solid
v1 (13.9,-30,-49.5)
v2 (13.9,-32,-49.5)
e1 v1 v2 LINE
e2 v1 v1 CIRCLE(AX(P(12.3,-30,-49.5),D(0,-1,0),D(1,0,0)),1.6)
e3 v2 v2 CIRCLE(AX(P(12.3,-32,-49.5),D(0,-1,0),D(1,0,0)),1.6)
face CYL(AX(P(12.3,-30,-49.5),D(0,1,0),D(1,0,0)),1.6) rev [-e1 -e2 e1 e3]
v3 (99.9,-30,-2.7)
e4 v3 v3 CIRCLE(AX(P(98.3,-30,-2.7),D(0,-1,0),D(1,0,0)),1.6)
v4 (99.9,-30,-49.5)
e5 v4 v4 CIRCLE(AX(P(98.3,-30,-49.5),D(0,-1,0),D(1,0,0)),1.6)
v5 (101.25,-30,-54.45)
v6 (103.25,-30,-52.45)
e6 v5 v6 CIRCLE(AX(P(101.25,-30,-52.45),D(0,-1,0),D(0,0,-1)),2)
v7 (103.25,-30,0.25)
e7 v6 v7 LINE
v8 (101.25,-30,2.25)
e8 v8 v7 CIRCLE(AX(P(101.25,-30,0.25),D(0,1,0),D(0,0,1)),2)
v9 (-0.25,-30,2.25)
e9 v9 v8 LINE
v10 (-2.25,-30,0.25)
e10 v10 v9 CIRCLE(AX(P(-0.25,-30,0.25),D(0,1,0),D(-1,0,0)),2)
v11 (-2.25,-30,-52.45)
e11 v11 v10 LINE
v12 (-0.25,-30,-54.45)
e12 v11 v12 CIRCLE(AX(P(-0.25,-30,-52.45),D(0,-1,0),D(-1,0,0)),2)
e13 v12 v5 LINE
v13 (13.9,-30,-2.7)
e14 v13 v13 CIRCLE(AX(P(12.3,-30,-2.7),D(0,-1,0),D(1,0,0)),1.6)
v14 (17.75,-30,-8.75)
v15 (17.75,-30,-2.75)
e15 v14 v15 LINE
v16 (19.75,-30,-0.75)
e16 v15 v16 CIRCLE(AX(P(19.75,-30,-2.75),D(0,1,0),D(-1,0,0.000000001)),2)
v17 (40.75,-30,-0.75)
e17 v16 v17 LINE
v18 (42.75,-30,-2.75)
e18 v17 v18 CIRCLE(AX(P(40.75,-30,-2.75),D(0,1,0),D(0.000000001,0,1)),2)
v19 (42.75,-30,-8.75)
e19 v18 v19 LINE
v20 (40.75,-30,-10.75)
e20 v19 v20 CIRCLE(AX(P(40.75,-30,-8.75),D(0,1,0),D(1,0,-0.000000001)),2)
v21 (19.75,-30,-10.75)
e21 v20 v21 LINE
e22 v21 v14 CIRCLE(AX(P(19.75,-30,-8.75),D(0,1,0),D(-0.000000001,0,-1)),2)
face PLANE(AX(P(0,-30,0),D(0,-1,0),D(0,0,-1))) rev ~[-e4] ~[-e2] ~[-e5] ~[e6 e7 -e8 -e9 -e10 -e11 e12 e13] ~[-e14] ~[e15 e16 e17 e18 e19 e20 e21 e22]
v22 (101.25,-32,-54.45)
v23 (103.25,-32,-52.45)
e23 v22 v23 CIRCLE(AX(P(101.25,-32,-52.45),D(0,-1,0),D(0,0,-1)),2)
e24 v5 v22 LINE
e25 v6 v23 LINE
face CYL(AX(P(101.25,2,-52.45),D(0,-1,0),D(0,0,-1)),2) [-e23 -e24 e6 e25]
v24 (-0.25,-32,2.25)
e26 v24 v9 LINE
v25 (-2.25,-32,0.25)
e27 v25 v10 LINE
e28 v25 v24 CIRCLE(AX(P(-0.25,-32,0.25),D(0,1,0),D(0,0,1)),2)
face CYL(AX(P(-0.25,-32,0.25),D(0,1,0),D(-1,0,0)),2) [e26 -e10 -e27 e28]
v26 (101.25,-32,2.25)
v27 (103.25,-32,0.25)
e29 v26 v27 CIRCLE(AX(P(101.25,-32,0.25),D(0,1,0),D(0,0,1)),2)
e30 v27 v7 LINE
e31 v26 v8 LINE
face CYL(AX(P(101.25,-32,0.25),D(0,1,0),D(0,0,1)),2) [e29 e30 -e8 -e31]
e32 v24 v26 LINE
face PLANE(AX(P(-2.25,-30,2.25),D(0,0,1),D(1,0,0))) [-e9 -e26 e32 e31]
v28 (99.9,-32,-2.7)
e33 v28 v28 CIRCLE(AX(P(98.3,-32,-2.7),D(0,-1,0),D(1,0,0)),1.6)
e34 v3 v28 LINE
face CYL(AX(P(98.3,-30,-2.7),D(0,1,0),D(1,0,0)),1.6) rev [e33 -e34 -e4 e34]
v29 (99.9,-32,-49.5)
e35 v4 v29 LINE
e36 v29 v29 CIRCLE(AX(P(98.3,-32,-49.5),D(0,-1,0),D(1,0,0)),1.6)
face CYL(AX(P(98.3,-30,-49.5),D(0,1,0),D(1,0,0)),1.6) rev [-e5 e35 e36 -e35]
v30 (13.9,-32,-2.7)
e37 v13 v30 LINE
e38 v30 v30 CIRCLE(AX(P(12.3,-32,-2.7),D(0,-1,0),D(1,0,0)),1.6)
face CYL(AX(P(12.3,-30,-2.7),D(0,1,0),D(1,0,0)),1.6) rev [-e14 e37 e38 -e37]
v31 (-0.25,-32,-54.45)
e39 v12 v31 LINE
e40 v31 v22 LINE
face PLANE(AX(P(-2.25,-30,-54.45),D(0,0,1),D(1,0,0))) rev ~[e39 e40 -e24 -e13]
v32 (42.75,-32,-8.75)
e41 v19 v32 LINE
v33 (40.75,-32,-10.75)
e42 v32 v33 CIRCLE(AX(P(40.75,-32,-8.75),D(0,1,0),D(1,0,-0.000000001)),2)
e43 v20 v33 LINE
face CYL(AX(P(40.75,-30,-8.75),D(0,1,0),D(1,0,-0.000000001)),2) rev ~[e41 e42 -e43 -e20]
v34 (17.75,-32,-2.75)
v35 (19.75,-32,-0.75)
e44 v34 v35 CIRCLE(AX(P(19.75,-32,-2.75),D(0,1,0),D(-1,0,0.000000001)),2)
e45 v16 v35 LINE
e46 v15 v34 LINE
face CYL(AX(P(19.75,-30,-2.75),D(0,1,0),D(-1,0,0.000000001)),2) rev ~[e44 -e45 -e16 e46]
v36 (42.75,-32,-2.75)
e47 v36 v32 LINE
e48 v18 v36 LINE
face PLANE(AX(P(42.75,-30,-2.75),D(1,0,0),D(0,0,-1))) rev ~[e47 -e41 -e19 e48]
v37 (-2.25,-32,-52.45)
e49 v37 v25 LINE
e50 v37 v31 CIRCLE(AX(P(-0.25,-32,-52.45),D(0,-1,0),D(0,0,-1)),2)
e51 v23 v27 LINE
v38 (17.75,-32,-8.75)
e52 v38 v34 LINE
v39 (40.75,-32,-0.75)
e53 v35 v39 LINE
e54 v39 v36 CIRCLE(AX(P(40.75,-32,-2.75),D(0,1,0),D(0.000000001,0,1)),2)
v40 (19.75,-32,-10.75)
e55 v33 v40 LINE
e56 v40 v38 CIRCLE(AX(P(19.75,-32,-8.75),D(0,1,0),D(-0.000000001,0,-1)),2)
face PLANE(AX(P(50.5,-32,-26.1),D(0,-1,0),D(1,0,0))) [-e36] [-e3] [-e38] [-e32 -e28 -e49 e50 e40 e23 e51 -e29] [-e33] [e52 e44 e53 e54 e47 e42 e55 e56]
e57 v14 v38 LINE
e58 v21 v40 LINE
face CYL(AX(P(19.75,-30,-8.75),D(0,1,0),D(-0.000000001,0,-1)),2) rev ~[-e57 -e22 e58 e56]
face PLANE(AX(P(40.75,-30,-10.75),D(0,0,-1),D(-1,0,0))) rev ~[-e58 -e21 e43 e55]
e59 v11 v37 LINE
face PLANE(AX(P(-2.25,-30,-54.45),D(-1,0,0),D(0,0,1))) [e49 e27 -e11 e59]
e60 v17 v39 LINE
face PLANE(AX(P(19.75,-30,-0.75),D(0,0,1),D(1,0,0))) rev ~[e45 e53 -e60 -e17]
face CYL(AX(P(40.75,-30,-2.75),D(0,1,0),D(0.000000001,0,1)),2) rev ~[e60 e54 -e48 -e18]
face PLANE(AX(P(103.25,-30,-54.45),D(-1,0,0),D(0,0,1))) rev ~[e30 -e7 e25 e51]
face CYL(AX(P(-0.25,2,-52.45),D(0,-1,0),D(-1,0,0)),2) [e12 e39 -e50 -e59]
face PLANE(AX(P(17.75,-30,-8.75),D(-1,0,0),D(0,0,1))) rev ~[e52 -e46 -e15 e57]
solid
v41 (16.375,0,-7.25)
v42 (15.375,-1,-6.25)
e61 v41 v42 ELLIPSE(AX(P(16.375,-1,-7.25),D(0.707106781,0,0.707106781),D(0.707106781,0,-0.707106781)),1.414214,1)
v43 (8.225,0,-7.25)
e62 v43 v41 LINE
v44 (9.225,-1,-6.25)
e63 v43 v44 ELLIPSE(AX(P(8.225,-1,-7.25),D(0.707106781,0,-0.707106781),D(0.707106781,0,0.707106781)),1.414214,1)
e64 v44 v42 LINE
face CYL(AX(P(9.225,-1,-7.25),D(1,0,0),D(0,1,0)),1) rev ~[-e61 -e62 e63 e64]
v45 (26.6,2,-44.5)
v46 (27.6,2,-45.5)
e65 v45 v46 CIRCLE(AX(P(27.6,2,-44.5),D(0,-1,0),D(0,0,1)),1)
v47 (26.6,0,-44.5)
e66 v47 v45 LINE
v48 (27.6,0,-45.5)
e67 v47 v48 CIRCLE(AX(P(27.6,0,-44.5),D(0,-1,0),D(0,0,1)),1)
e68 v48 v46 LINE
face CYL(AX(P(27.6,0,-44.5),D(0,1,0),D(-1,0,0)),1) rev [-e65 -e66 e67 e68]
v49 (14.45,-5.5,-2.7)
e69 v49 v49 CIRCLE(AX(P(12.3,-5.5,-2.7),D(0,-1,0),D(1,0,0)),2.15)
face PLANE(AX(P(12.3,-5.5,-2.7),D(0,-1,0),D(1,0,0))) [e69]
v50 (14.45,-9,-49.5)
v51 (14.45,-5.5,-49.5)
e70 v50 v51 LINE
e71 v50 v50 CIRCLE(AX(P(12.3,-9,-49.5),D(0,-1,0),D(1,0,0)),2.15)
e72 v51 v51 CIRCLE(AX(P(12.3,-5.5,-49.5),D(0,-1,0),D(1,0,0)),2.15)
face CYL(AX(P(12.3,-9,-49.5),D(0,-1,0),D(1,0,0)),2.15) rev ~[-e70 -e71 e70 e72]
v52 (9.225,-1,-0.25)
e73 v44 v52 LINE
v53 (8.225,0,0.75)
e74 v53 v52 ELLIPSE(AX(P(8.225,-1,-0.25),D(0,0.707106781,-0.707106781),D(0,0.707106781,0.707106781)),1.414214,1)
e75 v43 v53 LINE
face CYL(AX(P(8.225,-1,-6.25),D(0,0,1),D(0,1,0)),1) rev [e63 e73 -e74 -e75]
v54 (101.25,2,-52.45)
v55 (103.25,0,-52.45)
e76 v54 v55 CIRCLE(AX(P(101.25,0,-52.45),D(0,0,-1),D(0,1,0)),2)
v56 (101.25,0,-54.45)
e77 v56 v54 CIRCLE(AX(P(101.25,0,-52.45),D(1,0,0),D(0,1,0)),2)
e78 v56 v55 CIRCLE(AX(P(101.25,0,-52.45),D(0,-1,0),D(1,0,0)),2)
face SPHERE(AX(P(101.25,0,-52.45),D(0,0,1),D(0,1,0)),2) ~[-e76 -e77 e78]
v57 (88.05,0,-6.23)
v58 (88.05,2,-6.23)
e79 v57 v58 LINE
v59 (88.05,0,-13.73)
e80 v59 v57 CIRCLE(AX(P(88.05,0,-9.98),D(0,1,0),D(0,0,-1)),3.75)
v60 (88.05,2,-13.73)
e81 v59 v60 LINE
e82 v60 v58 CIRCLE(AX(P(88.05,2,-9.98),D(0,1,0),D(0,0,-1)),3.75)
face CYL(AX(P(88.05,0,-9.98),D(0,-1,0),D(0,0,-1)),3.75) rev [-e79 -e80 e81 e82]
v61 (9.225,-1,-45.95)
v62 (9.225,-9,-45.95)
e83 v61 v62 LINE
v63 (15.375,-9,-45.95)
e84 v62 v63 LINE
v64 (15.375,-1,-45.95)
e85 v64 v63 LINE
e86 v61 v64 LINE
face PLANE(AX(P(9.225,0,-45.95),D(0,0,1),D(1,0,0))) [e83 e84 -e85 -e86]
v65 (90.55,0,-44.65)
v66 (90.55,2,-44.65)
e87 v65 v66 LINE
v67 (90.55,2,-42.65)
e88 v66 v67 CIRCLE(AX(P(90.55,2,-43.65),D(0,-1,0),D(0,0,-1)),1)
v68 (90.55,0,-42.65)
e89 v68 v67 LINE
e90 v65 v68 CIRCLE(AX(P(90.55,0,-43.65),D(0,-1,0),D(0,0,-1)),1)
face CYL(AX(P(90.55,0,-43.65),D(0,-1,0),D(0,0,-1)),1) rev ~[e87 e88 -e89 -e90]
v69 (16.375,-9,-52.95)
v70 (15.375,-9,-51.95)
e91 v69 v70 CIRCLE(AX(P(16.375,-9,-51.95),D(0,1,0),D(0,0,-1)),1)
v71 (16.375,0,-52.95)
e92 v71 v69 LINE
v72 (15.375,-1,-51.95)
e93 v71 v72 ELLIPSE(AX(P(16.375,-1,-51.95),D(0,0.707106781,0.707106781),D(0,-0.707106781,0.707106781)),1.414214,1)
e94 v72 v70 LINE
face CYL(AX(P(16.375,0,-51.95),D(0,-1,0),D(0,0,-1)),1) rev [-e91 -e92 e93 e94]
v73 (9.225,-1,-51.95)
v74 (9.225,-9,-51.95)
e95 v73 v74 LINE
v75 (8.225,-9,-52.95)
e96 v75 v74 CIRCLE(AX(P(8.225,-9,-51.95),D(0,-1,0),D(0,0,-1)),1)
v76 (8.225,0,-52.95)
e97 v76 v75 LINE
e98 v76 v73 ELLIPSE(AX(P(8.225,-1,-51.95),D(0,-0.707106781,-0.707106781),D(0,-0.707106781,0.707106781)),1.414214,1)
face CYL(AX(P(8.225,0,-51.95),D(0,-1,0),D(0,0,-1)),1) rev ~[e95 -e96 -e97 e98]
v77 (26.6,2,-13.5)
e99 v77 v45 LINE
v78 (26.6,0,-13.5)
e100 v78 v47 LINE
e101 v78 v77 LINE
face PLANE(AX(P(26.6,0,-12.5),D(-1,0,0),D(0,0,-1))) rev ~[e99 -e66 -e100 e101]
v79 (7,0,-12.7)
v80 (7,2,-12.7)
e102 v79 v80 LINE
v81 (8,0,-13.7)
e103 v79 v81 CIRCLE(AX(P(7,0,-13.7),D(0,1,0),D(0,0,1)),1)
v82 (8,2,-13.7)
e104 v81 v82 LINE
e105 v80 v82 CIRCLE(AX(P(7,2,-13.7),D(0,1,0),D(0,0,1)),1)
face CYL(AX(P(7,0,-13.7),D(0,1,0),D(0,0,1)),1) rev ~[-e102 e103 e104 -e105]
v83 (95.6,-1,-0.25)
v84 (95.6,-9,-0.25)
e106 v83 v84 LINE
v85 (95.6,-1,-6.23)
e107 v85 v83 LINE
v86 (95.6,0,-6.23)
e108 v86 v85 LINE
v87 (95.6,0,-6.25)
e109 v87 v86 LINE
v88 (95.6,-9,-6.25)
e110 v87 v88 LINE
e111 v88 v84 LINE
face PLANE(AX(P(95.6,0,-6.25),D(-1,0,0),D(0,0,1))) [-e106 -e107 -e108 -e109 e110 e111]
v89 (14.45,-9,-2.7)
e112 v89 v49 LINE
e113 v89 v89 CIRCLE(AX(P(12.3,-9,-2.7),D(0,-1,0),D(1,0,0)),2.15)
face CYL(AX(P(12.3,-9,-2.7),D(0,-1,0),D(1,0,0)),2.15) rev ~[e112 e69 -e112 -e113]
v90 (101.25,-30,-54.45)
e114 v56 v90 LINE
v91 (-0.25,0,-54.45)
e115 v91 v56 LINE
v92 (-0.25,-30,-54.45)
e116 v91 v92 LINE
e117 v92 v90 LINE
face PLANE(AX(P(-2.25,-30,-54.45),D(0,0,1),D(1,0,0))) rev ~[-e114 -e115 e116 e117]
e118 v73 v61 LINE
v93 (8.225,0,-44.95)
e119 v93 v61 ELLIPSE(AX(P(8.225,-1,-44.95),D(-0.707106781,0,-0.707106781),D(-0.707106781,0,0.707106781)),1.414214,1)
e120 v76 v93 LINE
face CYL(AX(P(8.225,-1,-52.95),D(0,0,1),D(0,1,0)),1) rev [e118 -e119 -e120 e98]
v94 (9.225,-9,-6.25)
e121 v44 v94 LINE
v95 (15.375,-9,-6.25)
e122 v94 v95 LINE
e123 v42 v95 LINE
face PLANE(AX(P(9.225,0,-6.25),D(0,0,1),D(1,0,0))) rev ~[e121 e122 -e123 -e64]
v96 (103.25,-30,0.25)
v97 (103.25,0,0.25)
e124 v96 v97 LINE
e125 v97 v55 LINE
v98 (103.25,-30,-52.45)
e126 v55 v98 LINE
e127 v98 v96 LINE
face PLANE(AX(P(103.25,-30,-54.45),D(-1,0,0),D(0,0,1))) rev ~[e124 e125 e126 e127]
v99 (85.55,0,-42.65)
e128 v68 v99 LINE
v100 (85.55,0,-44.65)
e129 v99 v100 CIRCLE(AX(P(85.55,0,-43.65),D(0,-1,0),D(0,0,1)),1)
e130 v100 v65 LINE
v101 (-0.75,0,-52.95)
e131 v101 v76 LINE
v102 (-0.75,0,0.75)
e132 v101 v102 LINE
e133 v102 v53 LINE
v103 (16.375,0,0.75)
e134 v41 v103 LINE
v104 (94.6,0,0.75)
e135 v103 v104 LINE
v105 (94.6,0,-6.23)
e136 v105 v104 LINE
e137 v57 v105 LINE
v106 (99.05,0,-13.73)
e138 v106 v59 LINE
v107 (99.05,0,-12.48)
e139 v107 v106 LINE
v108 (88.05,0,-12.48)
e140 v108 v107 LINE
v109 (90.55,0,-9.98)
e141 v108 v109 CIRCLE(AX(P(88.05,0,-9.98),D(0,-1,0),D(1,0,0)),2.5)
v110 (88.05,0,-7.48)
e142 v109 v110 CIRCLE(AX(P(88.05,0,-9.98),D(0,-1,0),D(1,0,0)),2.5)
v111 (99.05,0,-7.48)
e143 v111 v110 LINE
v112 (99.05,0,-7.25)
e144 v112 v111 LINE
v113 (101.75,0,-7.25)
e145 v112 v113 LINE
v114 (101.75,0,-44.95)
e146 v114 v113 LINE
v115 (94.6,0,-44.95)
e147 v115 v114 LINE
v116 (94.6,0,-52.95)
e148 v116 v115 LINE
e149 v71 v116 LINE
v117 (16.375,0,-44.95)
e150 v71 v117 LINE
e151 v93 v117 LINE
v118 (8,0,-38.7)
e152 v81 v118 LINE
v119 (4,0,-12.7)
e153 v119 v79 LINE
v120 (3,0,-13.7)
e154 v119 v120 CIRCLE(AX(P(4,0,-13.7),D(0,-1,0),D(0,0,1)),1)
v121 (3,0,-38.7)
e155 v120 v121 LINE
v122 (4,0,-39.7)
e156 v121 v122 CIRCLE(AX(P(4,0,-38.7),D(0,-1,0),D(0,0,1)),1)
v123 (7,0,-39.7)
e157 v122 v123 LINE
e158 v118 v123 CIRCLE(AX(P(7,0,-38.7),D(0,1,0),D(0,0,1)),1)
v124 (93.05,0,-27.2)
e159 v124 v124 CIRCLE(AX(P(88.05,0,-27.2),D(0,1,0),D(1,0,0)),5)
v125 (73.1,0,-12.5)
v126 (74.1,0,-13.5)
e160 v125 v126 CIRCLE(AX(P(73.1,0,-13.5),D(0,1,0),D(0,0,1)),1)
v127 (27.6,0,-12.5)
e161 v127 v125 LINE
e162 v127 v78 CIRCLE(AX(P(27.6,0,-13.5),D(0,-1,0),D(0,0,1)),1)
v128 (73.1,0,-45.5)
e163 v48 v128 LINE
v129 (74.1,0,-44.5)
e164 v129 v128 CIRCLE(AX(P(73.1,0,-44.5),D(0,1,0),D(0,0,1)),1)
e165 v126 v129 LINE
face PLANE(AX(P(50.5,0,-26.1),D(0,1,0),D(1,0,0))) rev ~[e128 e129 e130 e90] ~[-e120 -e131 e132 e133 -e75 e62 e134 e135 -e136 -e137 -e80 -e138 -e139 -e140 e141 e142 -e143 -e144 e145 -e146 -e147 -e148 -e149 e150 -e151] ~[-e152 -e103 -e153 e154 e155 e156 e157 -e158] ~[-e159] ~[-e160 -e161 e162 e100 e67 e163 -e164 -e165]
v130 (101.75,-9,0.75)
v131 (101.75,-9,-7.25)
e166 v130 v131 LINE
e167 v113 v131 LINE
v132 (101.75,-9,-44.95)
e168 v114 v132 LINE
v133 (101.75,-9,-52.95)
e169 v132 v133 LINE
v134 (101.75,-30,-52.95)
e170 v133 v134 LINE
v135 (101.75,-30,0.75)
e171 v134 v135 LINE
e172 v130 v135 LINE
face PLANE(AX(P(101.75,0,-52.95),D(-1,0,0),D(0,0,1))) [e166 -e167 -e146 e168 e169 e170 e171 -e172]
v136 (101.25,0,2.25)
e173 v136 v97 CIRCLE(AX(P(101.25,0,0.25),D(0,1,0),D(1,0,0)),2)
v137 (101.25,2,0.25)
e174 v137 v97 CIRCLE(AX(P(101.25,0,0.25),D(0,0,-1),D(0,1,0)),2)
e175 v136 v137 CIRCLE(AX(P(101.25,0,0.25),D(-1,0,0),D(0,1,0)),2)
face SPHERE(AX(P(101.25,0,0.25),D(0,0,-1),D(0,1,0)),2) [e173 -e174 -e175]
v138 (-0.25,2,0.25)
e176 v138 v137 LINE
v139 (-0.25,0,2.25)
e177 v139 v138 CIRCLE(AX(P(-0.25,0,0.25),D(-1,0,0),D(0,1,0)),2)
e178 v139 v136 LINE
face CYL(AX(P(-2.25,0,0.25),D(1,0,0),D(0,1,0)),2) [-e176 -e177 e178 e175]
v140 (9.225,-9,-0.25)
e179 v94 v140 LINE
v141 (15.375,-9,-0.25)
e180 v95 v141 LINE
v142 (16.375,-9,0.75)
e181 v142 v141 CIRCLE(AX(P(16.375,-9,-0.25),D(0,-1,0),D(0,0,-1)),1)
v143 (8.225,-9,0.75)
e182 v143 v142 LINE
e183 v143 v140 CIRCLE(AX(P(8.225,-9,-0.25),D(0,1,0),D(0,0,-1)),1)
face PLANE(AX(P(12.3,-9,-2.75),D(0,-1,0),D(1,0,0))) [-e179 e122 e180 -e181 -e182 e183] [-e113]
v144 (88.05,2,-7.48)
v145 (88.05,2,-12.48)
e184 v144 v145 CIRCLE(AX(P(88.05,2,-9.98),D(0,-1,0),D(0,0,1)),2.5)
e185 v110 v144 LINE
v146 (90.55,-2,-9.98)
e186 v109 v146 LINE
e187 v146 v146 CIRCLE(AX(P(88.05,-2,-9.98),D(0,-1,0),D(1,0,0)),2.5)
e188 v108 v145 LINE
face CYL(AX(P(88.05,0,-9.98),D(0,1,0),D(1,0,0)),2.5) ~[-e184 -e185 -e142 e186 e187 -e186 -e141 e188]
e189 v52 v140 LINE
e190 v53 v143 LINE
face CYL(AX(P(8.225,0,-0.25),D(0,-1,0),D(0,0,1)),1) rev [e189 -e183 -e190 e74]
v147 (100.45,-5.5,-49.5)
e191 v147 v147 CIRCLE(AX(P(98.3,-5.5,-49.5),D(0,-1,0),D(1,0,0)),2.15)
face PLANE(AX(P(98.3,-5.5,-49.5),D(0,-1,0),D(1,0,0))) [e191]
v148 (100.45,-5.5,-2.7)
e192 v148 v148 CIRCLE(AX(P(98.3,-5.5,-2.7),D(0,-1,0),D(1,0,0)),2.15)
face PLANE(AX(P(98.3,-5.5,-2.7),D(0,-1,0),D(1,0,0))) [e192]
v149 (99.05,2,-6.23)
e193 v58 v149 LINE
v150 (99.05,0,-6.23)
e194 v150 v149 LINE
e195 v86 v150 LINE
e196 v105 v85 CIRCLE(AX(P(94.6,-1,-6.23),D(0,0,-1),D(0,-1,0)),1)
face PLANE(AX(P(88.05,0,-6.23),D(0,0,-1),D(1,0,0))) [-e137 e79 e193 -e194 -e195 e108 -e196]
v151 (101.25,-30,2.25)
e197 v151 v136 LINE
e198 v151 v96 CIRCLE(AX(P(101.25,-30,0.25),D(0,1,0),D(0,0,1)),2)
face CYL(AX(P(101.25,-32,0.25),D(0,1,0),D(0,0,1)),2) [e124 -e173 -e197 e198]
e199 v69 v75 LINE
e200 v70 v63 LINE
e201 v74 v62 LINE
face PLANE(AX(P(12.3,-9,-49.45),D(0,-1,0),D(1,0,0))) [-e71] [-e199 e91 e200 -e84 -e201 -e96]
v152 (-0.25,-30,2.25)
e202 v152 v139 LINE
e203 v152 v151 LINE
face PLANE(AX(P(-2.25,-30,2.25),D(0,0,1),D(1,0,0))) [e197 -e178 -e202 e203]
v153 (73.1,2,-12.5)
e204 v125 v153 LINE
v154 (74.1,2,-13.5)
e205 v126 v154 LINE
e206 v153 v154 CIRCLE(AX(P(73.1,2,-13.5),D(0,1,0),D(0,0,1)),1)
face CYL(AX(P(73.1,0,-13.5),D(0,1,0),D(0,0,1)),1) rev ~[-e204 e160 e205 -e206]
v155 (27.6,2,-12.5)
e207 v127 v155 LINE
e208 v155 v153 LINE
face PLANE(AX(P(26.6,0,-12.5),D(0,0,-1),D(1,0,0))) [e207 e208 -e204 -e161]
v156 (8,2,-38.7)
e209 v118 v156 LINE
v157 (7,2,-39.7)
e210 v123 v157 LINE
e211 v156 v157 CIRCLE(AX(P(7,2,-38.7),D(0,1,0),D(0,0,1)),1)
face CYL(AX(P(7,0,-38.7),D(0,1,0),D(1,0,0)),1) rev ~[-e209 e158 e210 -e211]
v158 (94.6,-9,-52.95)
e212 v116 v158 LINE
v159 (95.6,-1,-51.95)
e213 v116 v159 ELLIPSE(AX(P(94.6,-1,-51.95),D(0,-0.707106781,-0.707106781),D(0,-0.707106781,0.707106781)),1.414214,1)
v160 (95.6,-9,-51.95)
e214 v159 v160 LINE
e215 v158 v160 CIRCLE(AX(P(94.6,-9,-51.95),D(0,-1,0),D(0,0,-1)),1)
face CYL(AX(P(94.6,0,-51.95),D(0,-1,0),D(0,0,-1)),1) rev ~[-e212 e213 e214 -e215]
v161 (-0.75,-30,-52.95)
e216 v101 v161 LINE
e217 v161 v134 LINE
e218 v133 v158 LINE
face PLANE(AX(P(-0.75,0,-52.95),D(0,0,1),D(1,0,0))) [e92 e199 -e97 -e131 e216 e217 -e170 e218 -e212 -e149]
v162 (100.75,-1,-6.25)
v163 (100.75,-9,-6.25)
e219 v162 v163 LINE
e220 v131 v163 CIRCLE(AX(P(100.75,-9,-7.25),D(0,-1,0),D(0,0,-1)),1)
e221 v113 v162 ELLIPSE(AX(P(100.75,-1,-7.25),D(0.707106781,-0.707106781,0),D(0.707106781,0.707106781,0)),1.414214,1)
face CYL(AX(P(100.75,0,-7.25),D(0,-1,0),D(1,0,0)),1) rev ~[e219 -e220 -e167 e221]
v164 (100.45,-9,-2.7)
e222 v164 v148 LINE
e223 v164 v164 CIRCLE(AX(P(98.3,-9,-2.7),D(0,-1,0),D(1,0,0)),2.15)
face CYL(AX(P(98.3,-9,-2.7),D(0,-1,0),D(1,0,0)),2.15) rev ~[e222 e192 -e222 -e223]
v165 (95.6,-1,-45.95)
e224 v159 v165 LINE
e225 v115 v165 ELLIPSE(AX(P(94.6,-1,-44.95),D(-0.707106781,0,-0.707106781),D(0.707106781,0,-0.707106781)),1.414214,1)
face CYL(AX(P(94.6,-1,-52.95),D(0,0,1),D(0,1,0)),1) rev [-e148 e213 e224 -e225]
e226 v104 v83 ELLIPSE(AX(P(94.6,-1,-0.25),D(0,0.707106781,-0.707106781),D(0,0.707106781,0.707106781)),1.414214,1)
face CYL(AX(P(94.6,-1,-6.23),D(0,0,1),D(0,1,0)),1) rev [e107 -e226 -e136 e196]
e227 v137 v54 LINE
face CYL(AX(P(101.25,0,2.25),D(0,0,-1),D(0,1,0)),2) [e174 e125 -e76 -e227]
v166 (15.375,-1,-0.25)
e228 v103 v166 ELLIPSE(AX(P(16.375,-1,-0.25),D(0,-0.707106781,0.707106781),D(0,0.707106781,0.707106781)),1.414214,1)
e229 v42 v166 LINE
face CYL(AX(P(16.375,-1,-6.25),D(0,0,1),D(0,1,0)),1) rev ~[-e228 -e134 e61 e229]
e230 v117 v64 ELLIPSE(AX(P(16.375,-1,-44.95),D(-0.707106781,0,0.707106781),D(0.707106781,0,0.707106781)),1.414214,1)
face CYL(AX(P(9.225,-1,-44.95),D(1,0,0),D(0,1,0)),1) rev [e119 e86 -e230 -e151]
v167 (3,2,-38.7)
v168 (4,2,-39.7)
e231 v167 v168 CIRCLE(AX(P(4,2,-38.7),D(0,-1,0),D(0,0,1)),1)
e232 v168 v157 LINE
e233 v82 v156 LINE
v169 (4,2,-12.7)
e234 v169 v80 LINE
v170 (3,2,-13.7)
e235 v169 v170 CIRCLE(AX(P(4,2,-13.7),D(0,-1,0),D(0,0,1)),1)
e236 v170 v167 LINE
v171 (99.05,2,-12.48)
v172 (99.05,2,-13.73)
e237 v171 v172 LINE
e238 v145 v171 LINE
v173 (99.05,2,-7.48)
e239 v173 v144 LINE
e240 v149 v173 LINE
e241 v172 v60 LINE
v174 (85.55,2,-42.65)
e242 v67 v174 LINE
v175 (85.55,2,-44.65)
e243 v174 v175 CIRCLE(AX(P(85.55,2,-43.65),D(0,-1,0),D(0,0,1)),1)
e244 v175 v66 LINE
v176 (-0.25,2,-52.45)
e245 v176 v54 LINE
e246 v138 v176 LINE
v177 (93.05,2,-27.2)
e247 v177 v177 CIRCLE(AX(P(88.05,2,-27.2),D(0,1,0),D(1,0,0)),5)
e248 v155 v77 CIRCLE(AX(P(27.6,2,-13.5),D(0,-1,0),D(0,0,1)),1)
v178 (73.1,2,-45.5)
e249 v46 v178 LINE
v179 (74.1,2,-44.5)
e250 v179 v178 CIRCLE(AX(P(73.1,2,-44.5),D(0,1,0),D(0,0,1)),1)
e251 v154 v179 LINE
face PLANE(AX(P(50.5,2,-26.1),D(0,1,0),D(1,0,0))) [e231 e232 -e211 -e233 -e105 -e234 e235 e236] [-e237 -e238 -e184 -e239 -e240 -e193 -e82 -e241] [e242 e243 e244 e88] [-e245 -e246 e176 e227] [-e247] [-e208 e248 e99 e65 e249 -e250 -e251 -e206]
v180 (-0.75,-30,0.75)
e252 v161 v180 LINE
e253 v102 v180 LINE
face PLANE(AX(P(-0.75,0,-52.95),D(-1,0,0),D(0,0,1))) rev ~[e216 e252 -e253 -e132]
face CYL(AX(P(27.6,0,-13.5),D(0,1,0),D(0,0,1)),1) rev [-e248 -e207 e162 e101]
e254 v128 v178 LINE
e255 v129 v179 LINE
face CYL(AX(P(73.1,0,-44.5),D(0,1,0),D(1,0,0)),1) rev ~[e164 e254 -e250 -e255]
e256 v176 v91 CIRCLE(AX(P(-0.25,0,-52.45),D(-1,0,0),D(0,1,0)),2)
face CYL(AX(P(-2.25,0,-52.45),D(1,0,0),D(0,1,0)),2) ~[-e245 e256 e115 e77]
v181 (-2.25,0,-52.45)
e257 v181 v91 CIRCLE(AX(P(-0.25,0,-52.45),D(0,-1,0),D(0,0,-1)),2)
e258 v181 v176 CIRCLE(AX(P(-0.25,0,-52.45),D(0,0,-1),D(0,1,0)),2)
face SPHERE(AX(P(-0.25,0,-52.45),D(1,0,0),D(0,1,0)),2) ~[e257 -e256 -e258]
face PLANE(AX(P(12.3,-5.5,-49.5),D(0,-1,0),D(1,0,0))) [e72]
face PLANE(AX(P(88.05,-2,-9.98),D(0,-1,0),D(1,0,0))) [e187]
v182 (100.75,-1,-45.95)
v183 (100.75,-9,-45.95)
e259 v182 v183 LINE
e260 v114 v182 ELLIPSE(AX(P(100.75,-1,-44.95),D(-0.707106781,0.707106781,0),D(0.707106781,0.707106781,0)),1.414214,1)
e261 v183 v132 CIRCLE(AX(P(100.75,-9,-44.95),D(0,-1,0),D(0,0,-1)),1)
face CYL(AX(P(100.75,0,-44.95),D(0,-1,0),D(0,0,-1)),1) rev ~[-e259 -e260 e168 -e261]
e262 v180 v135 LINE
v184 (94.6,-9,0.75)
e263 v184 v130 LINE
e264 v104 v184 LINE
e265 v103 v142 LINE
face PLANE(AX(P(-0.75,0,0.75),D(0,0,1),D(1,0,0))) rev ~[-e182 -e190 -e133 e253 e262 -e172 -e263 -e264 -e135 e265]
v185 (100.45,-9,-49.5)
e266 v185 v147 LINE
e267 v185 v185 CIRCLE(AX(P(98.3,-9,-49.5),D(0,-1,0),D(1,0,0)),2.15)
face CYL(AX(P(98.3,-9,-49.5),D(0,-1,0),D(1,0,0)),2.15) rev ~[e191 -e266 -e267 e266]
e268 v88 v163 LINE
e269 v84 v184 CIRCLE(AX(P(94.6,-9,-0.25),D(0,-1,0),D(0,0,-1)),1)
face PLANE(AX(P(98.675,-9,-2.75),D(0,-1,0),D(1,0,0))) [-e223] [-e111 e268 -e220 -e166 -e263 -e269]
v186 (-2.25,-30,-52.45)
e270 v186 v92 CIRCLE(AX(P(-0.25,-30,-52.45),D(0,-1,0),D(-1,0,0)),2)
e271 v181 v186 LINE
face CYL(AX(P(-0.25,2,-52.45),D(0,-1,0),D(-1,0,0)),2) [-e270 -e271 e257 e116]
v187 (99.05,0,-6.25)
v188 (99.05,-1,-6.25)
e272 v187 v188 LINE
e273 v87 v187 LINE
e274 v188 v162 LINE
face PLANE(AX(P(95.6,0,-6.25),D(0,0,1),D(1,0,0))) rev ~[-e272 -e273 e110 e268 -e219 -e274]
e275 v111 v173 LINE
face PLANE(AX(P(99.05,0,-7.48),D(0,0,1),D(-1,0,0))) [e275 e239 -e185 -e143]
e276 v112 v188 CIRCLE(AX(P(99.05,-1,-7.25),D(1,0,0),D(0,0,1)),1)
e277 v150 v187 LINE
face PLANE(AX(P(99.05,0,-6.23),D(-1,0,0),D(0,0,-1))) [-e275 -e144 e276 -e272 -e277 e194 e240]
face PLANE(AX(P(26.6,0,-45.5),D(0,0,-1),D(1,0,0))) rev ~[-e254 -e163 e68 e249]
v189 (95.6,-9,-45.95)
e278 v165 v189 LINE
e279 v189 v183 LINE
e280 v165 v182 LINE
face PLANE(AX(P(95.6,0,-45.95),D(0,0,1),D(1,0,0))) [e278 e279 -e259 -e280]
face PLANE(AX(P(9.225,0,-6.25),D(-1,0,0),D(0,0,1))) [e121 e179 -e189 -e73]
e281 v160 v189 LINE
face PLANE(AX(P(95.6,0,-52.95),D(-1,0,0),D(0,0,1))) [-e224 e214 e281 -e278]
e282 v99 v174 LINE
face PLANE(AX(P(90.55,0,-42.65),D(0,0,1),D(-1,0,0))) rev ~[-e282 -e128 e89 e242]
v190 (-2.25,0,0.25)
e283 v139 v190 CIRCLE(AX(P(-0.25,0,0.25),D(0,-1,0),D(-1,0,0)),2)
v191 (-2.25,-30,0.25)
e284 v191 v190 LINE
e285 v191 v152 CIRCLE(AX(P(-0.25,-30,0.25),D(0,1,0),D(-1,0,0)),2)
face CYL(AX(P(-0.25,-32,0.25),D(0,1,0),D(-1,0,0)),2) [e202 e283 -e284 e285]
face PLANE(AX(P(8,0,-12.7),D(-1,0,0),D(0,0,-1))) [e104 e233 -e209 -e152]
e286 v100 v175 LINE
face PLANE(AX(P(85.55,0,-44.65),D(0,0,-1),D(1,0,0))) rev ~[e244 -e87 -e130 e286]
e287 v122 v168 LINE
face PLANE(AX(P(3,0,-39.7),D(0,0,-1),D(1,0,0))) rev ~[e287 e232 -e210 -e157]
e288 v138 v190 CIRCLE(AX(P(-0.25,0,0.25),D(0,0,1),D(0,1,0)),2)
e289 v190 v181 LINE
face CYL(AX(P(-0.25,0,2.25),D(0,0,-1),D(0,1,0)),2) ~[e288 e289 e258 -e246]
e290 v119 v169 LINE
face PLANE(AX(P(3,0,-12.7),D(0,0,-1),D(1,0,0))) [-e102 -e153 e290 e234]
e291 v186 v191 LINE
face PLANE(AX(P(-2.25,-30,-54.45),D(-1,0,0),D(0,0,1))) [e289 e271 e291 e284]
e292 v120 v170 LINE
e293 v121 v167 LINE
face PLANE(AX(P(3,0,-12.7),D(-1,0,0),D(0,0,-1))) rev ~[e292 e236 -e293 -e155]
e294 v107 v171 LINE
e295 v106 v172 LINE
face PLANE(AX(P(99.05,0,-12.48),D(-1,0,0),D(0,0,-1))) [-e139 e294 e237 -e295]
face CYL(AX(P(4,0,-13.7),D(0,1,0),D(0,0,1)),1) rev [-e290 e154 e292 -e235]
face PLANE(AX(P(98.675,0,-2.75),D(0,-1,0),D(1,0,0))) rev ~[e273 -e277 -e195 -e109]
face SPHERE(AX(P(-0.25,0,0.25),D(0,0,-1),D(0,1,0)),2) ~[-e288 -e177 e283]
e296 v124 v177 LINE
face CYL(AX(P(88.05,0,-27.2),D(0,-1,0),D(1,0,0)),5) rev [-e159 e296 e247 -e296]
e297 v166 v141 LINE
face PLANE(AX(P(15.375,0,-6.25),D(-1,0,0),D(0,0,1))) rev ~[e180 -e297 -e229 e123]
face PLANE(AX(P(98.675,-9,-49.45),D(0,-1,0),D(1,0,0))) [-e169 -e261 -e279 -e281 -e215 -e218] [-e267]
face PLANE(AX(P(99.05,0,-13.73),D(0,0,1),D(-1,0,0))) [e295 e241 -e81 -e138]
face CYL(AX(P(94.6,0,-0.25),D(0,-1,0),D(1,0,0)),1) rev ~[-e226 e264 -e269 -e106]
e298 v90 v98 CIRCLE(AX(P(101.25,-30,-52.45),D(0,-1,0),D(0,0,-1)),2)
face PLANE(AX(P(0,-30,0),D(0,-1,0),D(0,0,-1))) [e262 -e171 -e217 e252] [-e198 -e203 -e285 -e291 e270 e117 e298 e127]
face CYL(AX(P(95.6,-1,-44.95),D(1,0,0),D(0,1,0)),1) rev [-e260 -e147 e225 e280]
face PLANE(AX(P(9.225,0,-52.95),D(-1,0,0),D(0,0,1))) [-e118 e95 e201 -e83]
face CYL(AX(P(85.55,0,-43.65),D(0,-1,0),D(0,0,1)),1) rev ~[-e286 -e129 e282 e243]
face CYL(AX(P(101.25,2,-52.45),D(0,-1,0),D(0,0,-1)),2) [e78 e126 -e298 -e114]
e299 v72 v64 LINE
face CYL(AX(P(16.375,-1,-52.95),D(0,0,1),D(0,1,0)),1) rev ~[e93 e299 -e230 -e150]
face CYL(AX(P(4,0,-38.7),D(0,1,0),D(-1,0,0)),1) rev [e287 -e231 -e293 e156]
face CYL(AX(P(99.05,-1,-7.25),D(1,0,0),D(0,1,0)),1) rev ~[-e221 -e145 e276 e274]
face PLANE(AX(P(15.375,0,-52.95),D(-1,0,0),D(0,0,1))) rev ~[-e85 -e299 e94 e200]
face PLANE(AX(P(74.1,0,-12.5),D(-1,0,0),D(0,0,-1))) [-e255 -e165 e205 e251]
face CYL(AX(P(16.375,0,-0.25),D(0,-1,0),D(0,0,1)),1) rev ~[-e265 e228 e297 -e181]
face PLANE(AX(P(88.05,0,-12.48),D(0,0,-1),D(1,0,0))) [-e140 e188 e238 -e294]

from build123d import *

# Parameters (mm, degrees)
CROQUIS1_W               = 105.5
CROQUIS1_H               = 56.7
CROQUIS1_R               = 5
CROQUIS1_W_2             = 47.5
CROQUIS1_H_2             = 33
CROQUIS1_W_3             = 5
CROQUIS1_H_3             = 27
SALIENTE_EXTRUIR1_DEPTH  = 2
CROQUIS5_W               = 105.5
CROQUIS5_H               = 56.7
CROQUIS5_W_2             = 102.5
CROQUIS5_H_2             = 53.7
SALIENTE_EXTRUIR4_DEPTH  = 30
CROQUIS6_W               = 105.5
CROQUIS6_H               = 56.7
CROQUIS6_R               = 1.6
SALIENTE_EXTRUIR5_DEPTH  = 2
CROQUIS8_W               = 6.15
CROQUIS8_H               = 7
SALIENTE_EXTRUIR13_DEPTH = 9
CROQUIS9_R               = 2.15
CORTAR_EXTRUIR2_DEPTH    = 3.5
REDONDEO4_R              = 2
REDONDEO6_R              = 1
REDONDEO7_R              = 1
CROQUIS10_R              = 2.5
SALIENTE_EXTRUIR14_DEPTH = 2


with BuildPart() as part:
    # Croquis1 → Saliente-Extruir1 (new body)
    with BuildSketch(Plane(origin=(0, 0, 0), x_dir=(1, 0, 0), z_dir=(0, 1, 0))):
        with Locations((50.5, 26.1)):
            Rectangle(CROQUIS1_W, CROQUIS1_H)
        with Locations((88.05, 27.2)):
            Circle(CROQUIS1_R, mode=Mode.SUBTRACT)
        with Locations((50.35, 29)):
            Rectangle(CROQUIS1_W_2, CROQUIS1_H_2, mode=Mode.SUBTRACT)
        with Locations((5.5, 26.2)):
            Rectangle(CROQUIS1_W_3, CROQUIS1_H_3, mode=Mode.SUBTRACT)
        with BuildLine():
            Line((88.05, 12.48), (99.05, 12.48))
            Line((99.05, 12.48), (99.05, 13.73))
            Line((99.05, 13.73), (88.05, 13.73))
            ThreePointArc((88.05, 13.73), (84.3, 9.98), (88.05, 6.23))
            Line((88.05, 6.23), (99.05, 6.23))
            Line((99.05, 6.23), (99.05, 7.48))
            Line((99.05, 7.48), (88.05, 7.48))
            ThreePointArc((88.05, 7.48), (85.55, 9.98), (88.05, 12.48))
        make_face(mode=Mode.SUBTRACT)
        with BuildLine():
            Line((90.55, 42.65), (85.55, 42.65))
            ThreePointArc((85.55, 42.65), (84.55, 43.65), (85.55, 44.65))
            Line((85.55, 44.65), (90.55, 44.65))
            ThreePointArc((90.55, 44.65), (91.55, 43.65), (90.55, 42.65))
        make_face(mode=Mode.SUBTRACT)
    extrude(amount=SALIENTE_EXTRUIR1_DEPTH)

    # Croquis5 → Saliente-Extruir4 (add)
    with BuildSketch(Plane.XZ):
        with Locations((50.5, -26.1)):
            Rectangle(CROQUIS5_W, CROQUIS5_H)
        with Locations((50.5, -26.1)):
            Rectangle(CROQUIS5_W_2, CROQUIS5_H_2, mode=Mode.SUBTRACT)
    extrude(amount=SALIENTE_EXTRUIR4_DEPTH)

    # Croquis6 → Saliente-Extruir5 (add)
    with BuildSketch(Plane.XZ.offset(30)):
        with Locations((50.5, -26.1)):
            Rectangle(CROQUIS6_W, CROQUIS6_H)
        with Locations((12.3, -49.5)):
            Circle(CROQUIS6_R, mode=Mode.SUBTRACT)
        with Locations((98.3, -2.7)):
            Circle(CROQUIS6_R, mode=Mode.SUBTRACT)
        with Locations((98.3, -49.5)):
            Circle(CROQUIS6_R, mode=Mode.SUBTRACT)
        with Locations((12.3, -2.7)):
            Circle(CROQUIS6_R, mode=Mode.SUBTRACT)
        with BuildLine():
            Line((40.75, -10.75), (19.75, -10.75))
            ThreePointArc((19.75, -10.75), (18.335786438, -10.164213562), (17.75, -8.75))
            Line((17.75, -8.75), (17.75, -2.75))
            ThreePointArc((17.75, -2.75), (18.335786438, -1.335786438), (19.75, -0.75))
            Line((19.75, -0.75), (40.75, -0.75))
            ThreePointArc((40.75, -0.75), (42.164213562, -1.335786438), (42.75, -2.75))
            Line((42.75, -2.75), (42.75, -8.75))
            ThreePointArc((42.75, -8.75), (42.164213562, -10.164213562), (40.75, -10.75))
        make_face(mode=Mode.SUBTRACT)
    extrude(amount=SALIENTE_EXTRUIR5_DEPTH)

    # Croquis8 → Saliente-Extruir13 (add)
    with BuildSketch(Plane.XZ):
        with Locations((12.3, -2.75)):
            Rectangle(CROQUIS8_W, CROQUIS8_H)
        with Locations((98.675, -2.75)):
            Rectangle(CROQUIS8_W, CROQUIS8_H)
        with Locations((12.3, -49.45)):
            Rectangle(CROQUIS8_W, CROQUIS8_H)
        with Locations((98.675, -49.45)):
            Rectangle(CROQUIS8_W, CROQUIS8_H)
    extrude(amount=SALIENTE_EXTRUIR13_DEPTH)

    # Croquis9 → Cortar-Extruir2 (cut)
    with BuildSketch(Plane.XZ.offset(9)):
        with Locations((12.3, -2.7)):
            Circle(CROQUIS9_R)
        with Locations((98.3, -2.7)):
            Circle(CROQUIS9_R)
        with Locations((98.3, -49.5)):
            Circle(CROQUIS9_R)
        with Locations((12.3, -49.5)):
            Circle(CROQUIS9_R)
    extrude(amount=-CORTAR_EXTRUIR2_DEPTH, mode=Mode.SUBTRACT)

    # Redondeo4
    redondeo4_edges = [part.edges().sort_by_distance(p)[0] for p in [
        (103.25, 2, -26.1),
        (50.5, 2, -54.45),
        (-2.25, 2, -26.1),
        (50.5, 2, 2.25),
        (-2.25, -15, -54.45),
        (103.25, -15, -54.45),
        (103.25, -15, 2.25),
        (-2.25, -15, 2.25),
    ]]
    fillet(redondeo4_edges, radius=REDONDEO4_R)


with BuildPart() as body_2:
    # Partir1: the piece on the far side of the plane
    add(part.part)
    split(bisect_by=Plane(origin=(0, -30, 0), x_dir=(0, 0, -1), z_dir=(0, -1, 0)), keep=Keep.BOTTOM)

    # Redondeo6
    redondeo6_edges = [body_2.edges().sort_by_distance(p)[0] for p in [
        (3, 1, -39.7),
        (8, 1, -39.7),
        (8, 1, -12.7),
        (3, 1, -12.7),
        (26.6, 1, -45.5),
        (74.1, 1, -45.5),
        (74.1, 1, -12.5),
        (26.6, 1, -12.5),
    ]]
    fillet(redondeo6_edges, radius=REDONDEO6_R)

    # Redondeo7
    redondeo7_edges = [body_2.edges().sort_by_distance(p)[0] for p in [
        (95.6, 0, -2.74),
        (100.4, 0, -6.25),
        (101.75, -4.5, -6.25),
        (95.6, -4.5, 0.75),
        (98.675, 0, -45.95),
        (95.6, 0, -49.45),
        (95.6, -4.5, -52.95),
        (101.75, -4.5, -45.95),
        (9.225, 0, -49.45),
        (15.375, 0, -49.45),
        (12.3, 0, -45.95),
        (15.375, -4.5, -52.95),
        (9.225, -4.5, -52.95),
        (9.225, 0, -2.75),
        (12.3, 0, -6.25),
        (15.375, 0, -2.75),
        (15.375, -4.5, 0.75),
        (9.225, -4.5, 0.75),
    ]]
    fillet(redondeo7_edges, radius=REDONDEO7_R)

    # Croquis10 → Saliente-Extruir14 (add)
    with BuildSketch(Plane.XZ):
        with Locations((88.05, -9.98)):
            Circle(CROQUIS10_R)
    extrude(amount=SALIENTE_EXTRUIR14_DEPTH)


with BuildPart() as part_1:
    add(part.part)

    # Partir1
    split(bisect_by=Plane(origin=(0, -30, 0), x_dir=(0, 0, -1), z_dir=(0, -1, 0)), keep=Keep.TOP)


solid = Compound([body_2.part, part_1.part])
